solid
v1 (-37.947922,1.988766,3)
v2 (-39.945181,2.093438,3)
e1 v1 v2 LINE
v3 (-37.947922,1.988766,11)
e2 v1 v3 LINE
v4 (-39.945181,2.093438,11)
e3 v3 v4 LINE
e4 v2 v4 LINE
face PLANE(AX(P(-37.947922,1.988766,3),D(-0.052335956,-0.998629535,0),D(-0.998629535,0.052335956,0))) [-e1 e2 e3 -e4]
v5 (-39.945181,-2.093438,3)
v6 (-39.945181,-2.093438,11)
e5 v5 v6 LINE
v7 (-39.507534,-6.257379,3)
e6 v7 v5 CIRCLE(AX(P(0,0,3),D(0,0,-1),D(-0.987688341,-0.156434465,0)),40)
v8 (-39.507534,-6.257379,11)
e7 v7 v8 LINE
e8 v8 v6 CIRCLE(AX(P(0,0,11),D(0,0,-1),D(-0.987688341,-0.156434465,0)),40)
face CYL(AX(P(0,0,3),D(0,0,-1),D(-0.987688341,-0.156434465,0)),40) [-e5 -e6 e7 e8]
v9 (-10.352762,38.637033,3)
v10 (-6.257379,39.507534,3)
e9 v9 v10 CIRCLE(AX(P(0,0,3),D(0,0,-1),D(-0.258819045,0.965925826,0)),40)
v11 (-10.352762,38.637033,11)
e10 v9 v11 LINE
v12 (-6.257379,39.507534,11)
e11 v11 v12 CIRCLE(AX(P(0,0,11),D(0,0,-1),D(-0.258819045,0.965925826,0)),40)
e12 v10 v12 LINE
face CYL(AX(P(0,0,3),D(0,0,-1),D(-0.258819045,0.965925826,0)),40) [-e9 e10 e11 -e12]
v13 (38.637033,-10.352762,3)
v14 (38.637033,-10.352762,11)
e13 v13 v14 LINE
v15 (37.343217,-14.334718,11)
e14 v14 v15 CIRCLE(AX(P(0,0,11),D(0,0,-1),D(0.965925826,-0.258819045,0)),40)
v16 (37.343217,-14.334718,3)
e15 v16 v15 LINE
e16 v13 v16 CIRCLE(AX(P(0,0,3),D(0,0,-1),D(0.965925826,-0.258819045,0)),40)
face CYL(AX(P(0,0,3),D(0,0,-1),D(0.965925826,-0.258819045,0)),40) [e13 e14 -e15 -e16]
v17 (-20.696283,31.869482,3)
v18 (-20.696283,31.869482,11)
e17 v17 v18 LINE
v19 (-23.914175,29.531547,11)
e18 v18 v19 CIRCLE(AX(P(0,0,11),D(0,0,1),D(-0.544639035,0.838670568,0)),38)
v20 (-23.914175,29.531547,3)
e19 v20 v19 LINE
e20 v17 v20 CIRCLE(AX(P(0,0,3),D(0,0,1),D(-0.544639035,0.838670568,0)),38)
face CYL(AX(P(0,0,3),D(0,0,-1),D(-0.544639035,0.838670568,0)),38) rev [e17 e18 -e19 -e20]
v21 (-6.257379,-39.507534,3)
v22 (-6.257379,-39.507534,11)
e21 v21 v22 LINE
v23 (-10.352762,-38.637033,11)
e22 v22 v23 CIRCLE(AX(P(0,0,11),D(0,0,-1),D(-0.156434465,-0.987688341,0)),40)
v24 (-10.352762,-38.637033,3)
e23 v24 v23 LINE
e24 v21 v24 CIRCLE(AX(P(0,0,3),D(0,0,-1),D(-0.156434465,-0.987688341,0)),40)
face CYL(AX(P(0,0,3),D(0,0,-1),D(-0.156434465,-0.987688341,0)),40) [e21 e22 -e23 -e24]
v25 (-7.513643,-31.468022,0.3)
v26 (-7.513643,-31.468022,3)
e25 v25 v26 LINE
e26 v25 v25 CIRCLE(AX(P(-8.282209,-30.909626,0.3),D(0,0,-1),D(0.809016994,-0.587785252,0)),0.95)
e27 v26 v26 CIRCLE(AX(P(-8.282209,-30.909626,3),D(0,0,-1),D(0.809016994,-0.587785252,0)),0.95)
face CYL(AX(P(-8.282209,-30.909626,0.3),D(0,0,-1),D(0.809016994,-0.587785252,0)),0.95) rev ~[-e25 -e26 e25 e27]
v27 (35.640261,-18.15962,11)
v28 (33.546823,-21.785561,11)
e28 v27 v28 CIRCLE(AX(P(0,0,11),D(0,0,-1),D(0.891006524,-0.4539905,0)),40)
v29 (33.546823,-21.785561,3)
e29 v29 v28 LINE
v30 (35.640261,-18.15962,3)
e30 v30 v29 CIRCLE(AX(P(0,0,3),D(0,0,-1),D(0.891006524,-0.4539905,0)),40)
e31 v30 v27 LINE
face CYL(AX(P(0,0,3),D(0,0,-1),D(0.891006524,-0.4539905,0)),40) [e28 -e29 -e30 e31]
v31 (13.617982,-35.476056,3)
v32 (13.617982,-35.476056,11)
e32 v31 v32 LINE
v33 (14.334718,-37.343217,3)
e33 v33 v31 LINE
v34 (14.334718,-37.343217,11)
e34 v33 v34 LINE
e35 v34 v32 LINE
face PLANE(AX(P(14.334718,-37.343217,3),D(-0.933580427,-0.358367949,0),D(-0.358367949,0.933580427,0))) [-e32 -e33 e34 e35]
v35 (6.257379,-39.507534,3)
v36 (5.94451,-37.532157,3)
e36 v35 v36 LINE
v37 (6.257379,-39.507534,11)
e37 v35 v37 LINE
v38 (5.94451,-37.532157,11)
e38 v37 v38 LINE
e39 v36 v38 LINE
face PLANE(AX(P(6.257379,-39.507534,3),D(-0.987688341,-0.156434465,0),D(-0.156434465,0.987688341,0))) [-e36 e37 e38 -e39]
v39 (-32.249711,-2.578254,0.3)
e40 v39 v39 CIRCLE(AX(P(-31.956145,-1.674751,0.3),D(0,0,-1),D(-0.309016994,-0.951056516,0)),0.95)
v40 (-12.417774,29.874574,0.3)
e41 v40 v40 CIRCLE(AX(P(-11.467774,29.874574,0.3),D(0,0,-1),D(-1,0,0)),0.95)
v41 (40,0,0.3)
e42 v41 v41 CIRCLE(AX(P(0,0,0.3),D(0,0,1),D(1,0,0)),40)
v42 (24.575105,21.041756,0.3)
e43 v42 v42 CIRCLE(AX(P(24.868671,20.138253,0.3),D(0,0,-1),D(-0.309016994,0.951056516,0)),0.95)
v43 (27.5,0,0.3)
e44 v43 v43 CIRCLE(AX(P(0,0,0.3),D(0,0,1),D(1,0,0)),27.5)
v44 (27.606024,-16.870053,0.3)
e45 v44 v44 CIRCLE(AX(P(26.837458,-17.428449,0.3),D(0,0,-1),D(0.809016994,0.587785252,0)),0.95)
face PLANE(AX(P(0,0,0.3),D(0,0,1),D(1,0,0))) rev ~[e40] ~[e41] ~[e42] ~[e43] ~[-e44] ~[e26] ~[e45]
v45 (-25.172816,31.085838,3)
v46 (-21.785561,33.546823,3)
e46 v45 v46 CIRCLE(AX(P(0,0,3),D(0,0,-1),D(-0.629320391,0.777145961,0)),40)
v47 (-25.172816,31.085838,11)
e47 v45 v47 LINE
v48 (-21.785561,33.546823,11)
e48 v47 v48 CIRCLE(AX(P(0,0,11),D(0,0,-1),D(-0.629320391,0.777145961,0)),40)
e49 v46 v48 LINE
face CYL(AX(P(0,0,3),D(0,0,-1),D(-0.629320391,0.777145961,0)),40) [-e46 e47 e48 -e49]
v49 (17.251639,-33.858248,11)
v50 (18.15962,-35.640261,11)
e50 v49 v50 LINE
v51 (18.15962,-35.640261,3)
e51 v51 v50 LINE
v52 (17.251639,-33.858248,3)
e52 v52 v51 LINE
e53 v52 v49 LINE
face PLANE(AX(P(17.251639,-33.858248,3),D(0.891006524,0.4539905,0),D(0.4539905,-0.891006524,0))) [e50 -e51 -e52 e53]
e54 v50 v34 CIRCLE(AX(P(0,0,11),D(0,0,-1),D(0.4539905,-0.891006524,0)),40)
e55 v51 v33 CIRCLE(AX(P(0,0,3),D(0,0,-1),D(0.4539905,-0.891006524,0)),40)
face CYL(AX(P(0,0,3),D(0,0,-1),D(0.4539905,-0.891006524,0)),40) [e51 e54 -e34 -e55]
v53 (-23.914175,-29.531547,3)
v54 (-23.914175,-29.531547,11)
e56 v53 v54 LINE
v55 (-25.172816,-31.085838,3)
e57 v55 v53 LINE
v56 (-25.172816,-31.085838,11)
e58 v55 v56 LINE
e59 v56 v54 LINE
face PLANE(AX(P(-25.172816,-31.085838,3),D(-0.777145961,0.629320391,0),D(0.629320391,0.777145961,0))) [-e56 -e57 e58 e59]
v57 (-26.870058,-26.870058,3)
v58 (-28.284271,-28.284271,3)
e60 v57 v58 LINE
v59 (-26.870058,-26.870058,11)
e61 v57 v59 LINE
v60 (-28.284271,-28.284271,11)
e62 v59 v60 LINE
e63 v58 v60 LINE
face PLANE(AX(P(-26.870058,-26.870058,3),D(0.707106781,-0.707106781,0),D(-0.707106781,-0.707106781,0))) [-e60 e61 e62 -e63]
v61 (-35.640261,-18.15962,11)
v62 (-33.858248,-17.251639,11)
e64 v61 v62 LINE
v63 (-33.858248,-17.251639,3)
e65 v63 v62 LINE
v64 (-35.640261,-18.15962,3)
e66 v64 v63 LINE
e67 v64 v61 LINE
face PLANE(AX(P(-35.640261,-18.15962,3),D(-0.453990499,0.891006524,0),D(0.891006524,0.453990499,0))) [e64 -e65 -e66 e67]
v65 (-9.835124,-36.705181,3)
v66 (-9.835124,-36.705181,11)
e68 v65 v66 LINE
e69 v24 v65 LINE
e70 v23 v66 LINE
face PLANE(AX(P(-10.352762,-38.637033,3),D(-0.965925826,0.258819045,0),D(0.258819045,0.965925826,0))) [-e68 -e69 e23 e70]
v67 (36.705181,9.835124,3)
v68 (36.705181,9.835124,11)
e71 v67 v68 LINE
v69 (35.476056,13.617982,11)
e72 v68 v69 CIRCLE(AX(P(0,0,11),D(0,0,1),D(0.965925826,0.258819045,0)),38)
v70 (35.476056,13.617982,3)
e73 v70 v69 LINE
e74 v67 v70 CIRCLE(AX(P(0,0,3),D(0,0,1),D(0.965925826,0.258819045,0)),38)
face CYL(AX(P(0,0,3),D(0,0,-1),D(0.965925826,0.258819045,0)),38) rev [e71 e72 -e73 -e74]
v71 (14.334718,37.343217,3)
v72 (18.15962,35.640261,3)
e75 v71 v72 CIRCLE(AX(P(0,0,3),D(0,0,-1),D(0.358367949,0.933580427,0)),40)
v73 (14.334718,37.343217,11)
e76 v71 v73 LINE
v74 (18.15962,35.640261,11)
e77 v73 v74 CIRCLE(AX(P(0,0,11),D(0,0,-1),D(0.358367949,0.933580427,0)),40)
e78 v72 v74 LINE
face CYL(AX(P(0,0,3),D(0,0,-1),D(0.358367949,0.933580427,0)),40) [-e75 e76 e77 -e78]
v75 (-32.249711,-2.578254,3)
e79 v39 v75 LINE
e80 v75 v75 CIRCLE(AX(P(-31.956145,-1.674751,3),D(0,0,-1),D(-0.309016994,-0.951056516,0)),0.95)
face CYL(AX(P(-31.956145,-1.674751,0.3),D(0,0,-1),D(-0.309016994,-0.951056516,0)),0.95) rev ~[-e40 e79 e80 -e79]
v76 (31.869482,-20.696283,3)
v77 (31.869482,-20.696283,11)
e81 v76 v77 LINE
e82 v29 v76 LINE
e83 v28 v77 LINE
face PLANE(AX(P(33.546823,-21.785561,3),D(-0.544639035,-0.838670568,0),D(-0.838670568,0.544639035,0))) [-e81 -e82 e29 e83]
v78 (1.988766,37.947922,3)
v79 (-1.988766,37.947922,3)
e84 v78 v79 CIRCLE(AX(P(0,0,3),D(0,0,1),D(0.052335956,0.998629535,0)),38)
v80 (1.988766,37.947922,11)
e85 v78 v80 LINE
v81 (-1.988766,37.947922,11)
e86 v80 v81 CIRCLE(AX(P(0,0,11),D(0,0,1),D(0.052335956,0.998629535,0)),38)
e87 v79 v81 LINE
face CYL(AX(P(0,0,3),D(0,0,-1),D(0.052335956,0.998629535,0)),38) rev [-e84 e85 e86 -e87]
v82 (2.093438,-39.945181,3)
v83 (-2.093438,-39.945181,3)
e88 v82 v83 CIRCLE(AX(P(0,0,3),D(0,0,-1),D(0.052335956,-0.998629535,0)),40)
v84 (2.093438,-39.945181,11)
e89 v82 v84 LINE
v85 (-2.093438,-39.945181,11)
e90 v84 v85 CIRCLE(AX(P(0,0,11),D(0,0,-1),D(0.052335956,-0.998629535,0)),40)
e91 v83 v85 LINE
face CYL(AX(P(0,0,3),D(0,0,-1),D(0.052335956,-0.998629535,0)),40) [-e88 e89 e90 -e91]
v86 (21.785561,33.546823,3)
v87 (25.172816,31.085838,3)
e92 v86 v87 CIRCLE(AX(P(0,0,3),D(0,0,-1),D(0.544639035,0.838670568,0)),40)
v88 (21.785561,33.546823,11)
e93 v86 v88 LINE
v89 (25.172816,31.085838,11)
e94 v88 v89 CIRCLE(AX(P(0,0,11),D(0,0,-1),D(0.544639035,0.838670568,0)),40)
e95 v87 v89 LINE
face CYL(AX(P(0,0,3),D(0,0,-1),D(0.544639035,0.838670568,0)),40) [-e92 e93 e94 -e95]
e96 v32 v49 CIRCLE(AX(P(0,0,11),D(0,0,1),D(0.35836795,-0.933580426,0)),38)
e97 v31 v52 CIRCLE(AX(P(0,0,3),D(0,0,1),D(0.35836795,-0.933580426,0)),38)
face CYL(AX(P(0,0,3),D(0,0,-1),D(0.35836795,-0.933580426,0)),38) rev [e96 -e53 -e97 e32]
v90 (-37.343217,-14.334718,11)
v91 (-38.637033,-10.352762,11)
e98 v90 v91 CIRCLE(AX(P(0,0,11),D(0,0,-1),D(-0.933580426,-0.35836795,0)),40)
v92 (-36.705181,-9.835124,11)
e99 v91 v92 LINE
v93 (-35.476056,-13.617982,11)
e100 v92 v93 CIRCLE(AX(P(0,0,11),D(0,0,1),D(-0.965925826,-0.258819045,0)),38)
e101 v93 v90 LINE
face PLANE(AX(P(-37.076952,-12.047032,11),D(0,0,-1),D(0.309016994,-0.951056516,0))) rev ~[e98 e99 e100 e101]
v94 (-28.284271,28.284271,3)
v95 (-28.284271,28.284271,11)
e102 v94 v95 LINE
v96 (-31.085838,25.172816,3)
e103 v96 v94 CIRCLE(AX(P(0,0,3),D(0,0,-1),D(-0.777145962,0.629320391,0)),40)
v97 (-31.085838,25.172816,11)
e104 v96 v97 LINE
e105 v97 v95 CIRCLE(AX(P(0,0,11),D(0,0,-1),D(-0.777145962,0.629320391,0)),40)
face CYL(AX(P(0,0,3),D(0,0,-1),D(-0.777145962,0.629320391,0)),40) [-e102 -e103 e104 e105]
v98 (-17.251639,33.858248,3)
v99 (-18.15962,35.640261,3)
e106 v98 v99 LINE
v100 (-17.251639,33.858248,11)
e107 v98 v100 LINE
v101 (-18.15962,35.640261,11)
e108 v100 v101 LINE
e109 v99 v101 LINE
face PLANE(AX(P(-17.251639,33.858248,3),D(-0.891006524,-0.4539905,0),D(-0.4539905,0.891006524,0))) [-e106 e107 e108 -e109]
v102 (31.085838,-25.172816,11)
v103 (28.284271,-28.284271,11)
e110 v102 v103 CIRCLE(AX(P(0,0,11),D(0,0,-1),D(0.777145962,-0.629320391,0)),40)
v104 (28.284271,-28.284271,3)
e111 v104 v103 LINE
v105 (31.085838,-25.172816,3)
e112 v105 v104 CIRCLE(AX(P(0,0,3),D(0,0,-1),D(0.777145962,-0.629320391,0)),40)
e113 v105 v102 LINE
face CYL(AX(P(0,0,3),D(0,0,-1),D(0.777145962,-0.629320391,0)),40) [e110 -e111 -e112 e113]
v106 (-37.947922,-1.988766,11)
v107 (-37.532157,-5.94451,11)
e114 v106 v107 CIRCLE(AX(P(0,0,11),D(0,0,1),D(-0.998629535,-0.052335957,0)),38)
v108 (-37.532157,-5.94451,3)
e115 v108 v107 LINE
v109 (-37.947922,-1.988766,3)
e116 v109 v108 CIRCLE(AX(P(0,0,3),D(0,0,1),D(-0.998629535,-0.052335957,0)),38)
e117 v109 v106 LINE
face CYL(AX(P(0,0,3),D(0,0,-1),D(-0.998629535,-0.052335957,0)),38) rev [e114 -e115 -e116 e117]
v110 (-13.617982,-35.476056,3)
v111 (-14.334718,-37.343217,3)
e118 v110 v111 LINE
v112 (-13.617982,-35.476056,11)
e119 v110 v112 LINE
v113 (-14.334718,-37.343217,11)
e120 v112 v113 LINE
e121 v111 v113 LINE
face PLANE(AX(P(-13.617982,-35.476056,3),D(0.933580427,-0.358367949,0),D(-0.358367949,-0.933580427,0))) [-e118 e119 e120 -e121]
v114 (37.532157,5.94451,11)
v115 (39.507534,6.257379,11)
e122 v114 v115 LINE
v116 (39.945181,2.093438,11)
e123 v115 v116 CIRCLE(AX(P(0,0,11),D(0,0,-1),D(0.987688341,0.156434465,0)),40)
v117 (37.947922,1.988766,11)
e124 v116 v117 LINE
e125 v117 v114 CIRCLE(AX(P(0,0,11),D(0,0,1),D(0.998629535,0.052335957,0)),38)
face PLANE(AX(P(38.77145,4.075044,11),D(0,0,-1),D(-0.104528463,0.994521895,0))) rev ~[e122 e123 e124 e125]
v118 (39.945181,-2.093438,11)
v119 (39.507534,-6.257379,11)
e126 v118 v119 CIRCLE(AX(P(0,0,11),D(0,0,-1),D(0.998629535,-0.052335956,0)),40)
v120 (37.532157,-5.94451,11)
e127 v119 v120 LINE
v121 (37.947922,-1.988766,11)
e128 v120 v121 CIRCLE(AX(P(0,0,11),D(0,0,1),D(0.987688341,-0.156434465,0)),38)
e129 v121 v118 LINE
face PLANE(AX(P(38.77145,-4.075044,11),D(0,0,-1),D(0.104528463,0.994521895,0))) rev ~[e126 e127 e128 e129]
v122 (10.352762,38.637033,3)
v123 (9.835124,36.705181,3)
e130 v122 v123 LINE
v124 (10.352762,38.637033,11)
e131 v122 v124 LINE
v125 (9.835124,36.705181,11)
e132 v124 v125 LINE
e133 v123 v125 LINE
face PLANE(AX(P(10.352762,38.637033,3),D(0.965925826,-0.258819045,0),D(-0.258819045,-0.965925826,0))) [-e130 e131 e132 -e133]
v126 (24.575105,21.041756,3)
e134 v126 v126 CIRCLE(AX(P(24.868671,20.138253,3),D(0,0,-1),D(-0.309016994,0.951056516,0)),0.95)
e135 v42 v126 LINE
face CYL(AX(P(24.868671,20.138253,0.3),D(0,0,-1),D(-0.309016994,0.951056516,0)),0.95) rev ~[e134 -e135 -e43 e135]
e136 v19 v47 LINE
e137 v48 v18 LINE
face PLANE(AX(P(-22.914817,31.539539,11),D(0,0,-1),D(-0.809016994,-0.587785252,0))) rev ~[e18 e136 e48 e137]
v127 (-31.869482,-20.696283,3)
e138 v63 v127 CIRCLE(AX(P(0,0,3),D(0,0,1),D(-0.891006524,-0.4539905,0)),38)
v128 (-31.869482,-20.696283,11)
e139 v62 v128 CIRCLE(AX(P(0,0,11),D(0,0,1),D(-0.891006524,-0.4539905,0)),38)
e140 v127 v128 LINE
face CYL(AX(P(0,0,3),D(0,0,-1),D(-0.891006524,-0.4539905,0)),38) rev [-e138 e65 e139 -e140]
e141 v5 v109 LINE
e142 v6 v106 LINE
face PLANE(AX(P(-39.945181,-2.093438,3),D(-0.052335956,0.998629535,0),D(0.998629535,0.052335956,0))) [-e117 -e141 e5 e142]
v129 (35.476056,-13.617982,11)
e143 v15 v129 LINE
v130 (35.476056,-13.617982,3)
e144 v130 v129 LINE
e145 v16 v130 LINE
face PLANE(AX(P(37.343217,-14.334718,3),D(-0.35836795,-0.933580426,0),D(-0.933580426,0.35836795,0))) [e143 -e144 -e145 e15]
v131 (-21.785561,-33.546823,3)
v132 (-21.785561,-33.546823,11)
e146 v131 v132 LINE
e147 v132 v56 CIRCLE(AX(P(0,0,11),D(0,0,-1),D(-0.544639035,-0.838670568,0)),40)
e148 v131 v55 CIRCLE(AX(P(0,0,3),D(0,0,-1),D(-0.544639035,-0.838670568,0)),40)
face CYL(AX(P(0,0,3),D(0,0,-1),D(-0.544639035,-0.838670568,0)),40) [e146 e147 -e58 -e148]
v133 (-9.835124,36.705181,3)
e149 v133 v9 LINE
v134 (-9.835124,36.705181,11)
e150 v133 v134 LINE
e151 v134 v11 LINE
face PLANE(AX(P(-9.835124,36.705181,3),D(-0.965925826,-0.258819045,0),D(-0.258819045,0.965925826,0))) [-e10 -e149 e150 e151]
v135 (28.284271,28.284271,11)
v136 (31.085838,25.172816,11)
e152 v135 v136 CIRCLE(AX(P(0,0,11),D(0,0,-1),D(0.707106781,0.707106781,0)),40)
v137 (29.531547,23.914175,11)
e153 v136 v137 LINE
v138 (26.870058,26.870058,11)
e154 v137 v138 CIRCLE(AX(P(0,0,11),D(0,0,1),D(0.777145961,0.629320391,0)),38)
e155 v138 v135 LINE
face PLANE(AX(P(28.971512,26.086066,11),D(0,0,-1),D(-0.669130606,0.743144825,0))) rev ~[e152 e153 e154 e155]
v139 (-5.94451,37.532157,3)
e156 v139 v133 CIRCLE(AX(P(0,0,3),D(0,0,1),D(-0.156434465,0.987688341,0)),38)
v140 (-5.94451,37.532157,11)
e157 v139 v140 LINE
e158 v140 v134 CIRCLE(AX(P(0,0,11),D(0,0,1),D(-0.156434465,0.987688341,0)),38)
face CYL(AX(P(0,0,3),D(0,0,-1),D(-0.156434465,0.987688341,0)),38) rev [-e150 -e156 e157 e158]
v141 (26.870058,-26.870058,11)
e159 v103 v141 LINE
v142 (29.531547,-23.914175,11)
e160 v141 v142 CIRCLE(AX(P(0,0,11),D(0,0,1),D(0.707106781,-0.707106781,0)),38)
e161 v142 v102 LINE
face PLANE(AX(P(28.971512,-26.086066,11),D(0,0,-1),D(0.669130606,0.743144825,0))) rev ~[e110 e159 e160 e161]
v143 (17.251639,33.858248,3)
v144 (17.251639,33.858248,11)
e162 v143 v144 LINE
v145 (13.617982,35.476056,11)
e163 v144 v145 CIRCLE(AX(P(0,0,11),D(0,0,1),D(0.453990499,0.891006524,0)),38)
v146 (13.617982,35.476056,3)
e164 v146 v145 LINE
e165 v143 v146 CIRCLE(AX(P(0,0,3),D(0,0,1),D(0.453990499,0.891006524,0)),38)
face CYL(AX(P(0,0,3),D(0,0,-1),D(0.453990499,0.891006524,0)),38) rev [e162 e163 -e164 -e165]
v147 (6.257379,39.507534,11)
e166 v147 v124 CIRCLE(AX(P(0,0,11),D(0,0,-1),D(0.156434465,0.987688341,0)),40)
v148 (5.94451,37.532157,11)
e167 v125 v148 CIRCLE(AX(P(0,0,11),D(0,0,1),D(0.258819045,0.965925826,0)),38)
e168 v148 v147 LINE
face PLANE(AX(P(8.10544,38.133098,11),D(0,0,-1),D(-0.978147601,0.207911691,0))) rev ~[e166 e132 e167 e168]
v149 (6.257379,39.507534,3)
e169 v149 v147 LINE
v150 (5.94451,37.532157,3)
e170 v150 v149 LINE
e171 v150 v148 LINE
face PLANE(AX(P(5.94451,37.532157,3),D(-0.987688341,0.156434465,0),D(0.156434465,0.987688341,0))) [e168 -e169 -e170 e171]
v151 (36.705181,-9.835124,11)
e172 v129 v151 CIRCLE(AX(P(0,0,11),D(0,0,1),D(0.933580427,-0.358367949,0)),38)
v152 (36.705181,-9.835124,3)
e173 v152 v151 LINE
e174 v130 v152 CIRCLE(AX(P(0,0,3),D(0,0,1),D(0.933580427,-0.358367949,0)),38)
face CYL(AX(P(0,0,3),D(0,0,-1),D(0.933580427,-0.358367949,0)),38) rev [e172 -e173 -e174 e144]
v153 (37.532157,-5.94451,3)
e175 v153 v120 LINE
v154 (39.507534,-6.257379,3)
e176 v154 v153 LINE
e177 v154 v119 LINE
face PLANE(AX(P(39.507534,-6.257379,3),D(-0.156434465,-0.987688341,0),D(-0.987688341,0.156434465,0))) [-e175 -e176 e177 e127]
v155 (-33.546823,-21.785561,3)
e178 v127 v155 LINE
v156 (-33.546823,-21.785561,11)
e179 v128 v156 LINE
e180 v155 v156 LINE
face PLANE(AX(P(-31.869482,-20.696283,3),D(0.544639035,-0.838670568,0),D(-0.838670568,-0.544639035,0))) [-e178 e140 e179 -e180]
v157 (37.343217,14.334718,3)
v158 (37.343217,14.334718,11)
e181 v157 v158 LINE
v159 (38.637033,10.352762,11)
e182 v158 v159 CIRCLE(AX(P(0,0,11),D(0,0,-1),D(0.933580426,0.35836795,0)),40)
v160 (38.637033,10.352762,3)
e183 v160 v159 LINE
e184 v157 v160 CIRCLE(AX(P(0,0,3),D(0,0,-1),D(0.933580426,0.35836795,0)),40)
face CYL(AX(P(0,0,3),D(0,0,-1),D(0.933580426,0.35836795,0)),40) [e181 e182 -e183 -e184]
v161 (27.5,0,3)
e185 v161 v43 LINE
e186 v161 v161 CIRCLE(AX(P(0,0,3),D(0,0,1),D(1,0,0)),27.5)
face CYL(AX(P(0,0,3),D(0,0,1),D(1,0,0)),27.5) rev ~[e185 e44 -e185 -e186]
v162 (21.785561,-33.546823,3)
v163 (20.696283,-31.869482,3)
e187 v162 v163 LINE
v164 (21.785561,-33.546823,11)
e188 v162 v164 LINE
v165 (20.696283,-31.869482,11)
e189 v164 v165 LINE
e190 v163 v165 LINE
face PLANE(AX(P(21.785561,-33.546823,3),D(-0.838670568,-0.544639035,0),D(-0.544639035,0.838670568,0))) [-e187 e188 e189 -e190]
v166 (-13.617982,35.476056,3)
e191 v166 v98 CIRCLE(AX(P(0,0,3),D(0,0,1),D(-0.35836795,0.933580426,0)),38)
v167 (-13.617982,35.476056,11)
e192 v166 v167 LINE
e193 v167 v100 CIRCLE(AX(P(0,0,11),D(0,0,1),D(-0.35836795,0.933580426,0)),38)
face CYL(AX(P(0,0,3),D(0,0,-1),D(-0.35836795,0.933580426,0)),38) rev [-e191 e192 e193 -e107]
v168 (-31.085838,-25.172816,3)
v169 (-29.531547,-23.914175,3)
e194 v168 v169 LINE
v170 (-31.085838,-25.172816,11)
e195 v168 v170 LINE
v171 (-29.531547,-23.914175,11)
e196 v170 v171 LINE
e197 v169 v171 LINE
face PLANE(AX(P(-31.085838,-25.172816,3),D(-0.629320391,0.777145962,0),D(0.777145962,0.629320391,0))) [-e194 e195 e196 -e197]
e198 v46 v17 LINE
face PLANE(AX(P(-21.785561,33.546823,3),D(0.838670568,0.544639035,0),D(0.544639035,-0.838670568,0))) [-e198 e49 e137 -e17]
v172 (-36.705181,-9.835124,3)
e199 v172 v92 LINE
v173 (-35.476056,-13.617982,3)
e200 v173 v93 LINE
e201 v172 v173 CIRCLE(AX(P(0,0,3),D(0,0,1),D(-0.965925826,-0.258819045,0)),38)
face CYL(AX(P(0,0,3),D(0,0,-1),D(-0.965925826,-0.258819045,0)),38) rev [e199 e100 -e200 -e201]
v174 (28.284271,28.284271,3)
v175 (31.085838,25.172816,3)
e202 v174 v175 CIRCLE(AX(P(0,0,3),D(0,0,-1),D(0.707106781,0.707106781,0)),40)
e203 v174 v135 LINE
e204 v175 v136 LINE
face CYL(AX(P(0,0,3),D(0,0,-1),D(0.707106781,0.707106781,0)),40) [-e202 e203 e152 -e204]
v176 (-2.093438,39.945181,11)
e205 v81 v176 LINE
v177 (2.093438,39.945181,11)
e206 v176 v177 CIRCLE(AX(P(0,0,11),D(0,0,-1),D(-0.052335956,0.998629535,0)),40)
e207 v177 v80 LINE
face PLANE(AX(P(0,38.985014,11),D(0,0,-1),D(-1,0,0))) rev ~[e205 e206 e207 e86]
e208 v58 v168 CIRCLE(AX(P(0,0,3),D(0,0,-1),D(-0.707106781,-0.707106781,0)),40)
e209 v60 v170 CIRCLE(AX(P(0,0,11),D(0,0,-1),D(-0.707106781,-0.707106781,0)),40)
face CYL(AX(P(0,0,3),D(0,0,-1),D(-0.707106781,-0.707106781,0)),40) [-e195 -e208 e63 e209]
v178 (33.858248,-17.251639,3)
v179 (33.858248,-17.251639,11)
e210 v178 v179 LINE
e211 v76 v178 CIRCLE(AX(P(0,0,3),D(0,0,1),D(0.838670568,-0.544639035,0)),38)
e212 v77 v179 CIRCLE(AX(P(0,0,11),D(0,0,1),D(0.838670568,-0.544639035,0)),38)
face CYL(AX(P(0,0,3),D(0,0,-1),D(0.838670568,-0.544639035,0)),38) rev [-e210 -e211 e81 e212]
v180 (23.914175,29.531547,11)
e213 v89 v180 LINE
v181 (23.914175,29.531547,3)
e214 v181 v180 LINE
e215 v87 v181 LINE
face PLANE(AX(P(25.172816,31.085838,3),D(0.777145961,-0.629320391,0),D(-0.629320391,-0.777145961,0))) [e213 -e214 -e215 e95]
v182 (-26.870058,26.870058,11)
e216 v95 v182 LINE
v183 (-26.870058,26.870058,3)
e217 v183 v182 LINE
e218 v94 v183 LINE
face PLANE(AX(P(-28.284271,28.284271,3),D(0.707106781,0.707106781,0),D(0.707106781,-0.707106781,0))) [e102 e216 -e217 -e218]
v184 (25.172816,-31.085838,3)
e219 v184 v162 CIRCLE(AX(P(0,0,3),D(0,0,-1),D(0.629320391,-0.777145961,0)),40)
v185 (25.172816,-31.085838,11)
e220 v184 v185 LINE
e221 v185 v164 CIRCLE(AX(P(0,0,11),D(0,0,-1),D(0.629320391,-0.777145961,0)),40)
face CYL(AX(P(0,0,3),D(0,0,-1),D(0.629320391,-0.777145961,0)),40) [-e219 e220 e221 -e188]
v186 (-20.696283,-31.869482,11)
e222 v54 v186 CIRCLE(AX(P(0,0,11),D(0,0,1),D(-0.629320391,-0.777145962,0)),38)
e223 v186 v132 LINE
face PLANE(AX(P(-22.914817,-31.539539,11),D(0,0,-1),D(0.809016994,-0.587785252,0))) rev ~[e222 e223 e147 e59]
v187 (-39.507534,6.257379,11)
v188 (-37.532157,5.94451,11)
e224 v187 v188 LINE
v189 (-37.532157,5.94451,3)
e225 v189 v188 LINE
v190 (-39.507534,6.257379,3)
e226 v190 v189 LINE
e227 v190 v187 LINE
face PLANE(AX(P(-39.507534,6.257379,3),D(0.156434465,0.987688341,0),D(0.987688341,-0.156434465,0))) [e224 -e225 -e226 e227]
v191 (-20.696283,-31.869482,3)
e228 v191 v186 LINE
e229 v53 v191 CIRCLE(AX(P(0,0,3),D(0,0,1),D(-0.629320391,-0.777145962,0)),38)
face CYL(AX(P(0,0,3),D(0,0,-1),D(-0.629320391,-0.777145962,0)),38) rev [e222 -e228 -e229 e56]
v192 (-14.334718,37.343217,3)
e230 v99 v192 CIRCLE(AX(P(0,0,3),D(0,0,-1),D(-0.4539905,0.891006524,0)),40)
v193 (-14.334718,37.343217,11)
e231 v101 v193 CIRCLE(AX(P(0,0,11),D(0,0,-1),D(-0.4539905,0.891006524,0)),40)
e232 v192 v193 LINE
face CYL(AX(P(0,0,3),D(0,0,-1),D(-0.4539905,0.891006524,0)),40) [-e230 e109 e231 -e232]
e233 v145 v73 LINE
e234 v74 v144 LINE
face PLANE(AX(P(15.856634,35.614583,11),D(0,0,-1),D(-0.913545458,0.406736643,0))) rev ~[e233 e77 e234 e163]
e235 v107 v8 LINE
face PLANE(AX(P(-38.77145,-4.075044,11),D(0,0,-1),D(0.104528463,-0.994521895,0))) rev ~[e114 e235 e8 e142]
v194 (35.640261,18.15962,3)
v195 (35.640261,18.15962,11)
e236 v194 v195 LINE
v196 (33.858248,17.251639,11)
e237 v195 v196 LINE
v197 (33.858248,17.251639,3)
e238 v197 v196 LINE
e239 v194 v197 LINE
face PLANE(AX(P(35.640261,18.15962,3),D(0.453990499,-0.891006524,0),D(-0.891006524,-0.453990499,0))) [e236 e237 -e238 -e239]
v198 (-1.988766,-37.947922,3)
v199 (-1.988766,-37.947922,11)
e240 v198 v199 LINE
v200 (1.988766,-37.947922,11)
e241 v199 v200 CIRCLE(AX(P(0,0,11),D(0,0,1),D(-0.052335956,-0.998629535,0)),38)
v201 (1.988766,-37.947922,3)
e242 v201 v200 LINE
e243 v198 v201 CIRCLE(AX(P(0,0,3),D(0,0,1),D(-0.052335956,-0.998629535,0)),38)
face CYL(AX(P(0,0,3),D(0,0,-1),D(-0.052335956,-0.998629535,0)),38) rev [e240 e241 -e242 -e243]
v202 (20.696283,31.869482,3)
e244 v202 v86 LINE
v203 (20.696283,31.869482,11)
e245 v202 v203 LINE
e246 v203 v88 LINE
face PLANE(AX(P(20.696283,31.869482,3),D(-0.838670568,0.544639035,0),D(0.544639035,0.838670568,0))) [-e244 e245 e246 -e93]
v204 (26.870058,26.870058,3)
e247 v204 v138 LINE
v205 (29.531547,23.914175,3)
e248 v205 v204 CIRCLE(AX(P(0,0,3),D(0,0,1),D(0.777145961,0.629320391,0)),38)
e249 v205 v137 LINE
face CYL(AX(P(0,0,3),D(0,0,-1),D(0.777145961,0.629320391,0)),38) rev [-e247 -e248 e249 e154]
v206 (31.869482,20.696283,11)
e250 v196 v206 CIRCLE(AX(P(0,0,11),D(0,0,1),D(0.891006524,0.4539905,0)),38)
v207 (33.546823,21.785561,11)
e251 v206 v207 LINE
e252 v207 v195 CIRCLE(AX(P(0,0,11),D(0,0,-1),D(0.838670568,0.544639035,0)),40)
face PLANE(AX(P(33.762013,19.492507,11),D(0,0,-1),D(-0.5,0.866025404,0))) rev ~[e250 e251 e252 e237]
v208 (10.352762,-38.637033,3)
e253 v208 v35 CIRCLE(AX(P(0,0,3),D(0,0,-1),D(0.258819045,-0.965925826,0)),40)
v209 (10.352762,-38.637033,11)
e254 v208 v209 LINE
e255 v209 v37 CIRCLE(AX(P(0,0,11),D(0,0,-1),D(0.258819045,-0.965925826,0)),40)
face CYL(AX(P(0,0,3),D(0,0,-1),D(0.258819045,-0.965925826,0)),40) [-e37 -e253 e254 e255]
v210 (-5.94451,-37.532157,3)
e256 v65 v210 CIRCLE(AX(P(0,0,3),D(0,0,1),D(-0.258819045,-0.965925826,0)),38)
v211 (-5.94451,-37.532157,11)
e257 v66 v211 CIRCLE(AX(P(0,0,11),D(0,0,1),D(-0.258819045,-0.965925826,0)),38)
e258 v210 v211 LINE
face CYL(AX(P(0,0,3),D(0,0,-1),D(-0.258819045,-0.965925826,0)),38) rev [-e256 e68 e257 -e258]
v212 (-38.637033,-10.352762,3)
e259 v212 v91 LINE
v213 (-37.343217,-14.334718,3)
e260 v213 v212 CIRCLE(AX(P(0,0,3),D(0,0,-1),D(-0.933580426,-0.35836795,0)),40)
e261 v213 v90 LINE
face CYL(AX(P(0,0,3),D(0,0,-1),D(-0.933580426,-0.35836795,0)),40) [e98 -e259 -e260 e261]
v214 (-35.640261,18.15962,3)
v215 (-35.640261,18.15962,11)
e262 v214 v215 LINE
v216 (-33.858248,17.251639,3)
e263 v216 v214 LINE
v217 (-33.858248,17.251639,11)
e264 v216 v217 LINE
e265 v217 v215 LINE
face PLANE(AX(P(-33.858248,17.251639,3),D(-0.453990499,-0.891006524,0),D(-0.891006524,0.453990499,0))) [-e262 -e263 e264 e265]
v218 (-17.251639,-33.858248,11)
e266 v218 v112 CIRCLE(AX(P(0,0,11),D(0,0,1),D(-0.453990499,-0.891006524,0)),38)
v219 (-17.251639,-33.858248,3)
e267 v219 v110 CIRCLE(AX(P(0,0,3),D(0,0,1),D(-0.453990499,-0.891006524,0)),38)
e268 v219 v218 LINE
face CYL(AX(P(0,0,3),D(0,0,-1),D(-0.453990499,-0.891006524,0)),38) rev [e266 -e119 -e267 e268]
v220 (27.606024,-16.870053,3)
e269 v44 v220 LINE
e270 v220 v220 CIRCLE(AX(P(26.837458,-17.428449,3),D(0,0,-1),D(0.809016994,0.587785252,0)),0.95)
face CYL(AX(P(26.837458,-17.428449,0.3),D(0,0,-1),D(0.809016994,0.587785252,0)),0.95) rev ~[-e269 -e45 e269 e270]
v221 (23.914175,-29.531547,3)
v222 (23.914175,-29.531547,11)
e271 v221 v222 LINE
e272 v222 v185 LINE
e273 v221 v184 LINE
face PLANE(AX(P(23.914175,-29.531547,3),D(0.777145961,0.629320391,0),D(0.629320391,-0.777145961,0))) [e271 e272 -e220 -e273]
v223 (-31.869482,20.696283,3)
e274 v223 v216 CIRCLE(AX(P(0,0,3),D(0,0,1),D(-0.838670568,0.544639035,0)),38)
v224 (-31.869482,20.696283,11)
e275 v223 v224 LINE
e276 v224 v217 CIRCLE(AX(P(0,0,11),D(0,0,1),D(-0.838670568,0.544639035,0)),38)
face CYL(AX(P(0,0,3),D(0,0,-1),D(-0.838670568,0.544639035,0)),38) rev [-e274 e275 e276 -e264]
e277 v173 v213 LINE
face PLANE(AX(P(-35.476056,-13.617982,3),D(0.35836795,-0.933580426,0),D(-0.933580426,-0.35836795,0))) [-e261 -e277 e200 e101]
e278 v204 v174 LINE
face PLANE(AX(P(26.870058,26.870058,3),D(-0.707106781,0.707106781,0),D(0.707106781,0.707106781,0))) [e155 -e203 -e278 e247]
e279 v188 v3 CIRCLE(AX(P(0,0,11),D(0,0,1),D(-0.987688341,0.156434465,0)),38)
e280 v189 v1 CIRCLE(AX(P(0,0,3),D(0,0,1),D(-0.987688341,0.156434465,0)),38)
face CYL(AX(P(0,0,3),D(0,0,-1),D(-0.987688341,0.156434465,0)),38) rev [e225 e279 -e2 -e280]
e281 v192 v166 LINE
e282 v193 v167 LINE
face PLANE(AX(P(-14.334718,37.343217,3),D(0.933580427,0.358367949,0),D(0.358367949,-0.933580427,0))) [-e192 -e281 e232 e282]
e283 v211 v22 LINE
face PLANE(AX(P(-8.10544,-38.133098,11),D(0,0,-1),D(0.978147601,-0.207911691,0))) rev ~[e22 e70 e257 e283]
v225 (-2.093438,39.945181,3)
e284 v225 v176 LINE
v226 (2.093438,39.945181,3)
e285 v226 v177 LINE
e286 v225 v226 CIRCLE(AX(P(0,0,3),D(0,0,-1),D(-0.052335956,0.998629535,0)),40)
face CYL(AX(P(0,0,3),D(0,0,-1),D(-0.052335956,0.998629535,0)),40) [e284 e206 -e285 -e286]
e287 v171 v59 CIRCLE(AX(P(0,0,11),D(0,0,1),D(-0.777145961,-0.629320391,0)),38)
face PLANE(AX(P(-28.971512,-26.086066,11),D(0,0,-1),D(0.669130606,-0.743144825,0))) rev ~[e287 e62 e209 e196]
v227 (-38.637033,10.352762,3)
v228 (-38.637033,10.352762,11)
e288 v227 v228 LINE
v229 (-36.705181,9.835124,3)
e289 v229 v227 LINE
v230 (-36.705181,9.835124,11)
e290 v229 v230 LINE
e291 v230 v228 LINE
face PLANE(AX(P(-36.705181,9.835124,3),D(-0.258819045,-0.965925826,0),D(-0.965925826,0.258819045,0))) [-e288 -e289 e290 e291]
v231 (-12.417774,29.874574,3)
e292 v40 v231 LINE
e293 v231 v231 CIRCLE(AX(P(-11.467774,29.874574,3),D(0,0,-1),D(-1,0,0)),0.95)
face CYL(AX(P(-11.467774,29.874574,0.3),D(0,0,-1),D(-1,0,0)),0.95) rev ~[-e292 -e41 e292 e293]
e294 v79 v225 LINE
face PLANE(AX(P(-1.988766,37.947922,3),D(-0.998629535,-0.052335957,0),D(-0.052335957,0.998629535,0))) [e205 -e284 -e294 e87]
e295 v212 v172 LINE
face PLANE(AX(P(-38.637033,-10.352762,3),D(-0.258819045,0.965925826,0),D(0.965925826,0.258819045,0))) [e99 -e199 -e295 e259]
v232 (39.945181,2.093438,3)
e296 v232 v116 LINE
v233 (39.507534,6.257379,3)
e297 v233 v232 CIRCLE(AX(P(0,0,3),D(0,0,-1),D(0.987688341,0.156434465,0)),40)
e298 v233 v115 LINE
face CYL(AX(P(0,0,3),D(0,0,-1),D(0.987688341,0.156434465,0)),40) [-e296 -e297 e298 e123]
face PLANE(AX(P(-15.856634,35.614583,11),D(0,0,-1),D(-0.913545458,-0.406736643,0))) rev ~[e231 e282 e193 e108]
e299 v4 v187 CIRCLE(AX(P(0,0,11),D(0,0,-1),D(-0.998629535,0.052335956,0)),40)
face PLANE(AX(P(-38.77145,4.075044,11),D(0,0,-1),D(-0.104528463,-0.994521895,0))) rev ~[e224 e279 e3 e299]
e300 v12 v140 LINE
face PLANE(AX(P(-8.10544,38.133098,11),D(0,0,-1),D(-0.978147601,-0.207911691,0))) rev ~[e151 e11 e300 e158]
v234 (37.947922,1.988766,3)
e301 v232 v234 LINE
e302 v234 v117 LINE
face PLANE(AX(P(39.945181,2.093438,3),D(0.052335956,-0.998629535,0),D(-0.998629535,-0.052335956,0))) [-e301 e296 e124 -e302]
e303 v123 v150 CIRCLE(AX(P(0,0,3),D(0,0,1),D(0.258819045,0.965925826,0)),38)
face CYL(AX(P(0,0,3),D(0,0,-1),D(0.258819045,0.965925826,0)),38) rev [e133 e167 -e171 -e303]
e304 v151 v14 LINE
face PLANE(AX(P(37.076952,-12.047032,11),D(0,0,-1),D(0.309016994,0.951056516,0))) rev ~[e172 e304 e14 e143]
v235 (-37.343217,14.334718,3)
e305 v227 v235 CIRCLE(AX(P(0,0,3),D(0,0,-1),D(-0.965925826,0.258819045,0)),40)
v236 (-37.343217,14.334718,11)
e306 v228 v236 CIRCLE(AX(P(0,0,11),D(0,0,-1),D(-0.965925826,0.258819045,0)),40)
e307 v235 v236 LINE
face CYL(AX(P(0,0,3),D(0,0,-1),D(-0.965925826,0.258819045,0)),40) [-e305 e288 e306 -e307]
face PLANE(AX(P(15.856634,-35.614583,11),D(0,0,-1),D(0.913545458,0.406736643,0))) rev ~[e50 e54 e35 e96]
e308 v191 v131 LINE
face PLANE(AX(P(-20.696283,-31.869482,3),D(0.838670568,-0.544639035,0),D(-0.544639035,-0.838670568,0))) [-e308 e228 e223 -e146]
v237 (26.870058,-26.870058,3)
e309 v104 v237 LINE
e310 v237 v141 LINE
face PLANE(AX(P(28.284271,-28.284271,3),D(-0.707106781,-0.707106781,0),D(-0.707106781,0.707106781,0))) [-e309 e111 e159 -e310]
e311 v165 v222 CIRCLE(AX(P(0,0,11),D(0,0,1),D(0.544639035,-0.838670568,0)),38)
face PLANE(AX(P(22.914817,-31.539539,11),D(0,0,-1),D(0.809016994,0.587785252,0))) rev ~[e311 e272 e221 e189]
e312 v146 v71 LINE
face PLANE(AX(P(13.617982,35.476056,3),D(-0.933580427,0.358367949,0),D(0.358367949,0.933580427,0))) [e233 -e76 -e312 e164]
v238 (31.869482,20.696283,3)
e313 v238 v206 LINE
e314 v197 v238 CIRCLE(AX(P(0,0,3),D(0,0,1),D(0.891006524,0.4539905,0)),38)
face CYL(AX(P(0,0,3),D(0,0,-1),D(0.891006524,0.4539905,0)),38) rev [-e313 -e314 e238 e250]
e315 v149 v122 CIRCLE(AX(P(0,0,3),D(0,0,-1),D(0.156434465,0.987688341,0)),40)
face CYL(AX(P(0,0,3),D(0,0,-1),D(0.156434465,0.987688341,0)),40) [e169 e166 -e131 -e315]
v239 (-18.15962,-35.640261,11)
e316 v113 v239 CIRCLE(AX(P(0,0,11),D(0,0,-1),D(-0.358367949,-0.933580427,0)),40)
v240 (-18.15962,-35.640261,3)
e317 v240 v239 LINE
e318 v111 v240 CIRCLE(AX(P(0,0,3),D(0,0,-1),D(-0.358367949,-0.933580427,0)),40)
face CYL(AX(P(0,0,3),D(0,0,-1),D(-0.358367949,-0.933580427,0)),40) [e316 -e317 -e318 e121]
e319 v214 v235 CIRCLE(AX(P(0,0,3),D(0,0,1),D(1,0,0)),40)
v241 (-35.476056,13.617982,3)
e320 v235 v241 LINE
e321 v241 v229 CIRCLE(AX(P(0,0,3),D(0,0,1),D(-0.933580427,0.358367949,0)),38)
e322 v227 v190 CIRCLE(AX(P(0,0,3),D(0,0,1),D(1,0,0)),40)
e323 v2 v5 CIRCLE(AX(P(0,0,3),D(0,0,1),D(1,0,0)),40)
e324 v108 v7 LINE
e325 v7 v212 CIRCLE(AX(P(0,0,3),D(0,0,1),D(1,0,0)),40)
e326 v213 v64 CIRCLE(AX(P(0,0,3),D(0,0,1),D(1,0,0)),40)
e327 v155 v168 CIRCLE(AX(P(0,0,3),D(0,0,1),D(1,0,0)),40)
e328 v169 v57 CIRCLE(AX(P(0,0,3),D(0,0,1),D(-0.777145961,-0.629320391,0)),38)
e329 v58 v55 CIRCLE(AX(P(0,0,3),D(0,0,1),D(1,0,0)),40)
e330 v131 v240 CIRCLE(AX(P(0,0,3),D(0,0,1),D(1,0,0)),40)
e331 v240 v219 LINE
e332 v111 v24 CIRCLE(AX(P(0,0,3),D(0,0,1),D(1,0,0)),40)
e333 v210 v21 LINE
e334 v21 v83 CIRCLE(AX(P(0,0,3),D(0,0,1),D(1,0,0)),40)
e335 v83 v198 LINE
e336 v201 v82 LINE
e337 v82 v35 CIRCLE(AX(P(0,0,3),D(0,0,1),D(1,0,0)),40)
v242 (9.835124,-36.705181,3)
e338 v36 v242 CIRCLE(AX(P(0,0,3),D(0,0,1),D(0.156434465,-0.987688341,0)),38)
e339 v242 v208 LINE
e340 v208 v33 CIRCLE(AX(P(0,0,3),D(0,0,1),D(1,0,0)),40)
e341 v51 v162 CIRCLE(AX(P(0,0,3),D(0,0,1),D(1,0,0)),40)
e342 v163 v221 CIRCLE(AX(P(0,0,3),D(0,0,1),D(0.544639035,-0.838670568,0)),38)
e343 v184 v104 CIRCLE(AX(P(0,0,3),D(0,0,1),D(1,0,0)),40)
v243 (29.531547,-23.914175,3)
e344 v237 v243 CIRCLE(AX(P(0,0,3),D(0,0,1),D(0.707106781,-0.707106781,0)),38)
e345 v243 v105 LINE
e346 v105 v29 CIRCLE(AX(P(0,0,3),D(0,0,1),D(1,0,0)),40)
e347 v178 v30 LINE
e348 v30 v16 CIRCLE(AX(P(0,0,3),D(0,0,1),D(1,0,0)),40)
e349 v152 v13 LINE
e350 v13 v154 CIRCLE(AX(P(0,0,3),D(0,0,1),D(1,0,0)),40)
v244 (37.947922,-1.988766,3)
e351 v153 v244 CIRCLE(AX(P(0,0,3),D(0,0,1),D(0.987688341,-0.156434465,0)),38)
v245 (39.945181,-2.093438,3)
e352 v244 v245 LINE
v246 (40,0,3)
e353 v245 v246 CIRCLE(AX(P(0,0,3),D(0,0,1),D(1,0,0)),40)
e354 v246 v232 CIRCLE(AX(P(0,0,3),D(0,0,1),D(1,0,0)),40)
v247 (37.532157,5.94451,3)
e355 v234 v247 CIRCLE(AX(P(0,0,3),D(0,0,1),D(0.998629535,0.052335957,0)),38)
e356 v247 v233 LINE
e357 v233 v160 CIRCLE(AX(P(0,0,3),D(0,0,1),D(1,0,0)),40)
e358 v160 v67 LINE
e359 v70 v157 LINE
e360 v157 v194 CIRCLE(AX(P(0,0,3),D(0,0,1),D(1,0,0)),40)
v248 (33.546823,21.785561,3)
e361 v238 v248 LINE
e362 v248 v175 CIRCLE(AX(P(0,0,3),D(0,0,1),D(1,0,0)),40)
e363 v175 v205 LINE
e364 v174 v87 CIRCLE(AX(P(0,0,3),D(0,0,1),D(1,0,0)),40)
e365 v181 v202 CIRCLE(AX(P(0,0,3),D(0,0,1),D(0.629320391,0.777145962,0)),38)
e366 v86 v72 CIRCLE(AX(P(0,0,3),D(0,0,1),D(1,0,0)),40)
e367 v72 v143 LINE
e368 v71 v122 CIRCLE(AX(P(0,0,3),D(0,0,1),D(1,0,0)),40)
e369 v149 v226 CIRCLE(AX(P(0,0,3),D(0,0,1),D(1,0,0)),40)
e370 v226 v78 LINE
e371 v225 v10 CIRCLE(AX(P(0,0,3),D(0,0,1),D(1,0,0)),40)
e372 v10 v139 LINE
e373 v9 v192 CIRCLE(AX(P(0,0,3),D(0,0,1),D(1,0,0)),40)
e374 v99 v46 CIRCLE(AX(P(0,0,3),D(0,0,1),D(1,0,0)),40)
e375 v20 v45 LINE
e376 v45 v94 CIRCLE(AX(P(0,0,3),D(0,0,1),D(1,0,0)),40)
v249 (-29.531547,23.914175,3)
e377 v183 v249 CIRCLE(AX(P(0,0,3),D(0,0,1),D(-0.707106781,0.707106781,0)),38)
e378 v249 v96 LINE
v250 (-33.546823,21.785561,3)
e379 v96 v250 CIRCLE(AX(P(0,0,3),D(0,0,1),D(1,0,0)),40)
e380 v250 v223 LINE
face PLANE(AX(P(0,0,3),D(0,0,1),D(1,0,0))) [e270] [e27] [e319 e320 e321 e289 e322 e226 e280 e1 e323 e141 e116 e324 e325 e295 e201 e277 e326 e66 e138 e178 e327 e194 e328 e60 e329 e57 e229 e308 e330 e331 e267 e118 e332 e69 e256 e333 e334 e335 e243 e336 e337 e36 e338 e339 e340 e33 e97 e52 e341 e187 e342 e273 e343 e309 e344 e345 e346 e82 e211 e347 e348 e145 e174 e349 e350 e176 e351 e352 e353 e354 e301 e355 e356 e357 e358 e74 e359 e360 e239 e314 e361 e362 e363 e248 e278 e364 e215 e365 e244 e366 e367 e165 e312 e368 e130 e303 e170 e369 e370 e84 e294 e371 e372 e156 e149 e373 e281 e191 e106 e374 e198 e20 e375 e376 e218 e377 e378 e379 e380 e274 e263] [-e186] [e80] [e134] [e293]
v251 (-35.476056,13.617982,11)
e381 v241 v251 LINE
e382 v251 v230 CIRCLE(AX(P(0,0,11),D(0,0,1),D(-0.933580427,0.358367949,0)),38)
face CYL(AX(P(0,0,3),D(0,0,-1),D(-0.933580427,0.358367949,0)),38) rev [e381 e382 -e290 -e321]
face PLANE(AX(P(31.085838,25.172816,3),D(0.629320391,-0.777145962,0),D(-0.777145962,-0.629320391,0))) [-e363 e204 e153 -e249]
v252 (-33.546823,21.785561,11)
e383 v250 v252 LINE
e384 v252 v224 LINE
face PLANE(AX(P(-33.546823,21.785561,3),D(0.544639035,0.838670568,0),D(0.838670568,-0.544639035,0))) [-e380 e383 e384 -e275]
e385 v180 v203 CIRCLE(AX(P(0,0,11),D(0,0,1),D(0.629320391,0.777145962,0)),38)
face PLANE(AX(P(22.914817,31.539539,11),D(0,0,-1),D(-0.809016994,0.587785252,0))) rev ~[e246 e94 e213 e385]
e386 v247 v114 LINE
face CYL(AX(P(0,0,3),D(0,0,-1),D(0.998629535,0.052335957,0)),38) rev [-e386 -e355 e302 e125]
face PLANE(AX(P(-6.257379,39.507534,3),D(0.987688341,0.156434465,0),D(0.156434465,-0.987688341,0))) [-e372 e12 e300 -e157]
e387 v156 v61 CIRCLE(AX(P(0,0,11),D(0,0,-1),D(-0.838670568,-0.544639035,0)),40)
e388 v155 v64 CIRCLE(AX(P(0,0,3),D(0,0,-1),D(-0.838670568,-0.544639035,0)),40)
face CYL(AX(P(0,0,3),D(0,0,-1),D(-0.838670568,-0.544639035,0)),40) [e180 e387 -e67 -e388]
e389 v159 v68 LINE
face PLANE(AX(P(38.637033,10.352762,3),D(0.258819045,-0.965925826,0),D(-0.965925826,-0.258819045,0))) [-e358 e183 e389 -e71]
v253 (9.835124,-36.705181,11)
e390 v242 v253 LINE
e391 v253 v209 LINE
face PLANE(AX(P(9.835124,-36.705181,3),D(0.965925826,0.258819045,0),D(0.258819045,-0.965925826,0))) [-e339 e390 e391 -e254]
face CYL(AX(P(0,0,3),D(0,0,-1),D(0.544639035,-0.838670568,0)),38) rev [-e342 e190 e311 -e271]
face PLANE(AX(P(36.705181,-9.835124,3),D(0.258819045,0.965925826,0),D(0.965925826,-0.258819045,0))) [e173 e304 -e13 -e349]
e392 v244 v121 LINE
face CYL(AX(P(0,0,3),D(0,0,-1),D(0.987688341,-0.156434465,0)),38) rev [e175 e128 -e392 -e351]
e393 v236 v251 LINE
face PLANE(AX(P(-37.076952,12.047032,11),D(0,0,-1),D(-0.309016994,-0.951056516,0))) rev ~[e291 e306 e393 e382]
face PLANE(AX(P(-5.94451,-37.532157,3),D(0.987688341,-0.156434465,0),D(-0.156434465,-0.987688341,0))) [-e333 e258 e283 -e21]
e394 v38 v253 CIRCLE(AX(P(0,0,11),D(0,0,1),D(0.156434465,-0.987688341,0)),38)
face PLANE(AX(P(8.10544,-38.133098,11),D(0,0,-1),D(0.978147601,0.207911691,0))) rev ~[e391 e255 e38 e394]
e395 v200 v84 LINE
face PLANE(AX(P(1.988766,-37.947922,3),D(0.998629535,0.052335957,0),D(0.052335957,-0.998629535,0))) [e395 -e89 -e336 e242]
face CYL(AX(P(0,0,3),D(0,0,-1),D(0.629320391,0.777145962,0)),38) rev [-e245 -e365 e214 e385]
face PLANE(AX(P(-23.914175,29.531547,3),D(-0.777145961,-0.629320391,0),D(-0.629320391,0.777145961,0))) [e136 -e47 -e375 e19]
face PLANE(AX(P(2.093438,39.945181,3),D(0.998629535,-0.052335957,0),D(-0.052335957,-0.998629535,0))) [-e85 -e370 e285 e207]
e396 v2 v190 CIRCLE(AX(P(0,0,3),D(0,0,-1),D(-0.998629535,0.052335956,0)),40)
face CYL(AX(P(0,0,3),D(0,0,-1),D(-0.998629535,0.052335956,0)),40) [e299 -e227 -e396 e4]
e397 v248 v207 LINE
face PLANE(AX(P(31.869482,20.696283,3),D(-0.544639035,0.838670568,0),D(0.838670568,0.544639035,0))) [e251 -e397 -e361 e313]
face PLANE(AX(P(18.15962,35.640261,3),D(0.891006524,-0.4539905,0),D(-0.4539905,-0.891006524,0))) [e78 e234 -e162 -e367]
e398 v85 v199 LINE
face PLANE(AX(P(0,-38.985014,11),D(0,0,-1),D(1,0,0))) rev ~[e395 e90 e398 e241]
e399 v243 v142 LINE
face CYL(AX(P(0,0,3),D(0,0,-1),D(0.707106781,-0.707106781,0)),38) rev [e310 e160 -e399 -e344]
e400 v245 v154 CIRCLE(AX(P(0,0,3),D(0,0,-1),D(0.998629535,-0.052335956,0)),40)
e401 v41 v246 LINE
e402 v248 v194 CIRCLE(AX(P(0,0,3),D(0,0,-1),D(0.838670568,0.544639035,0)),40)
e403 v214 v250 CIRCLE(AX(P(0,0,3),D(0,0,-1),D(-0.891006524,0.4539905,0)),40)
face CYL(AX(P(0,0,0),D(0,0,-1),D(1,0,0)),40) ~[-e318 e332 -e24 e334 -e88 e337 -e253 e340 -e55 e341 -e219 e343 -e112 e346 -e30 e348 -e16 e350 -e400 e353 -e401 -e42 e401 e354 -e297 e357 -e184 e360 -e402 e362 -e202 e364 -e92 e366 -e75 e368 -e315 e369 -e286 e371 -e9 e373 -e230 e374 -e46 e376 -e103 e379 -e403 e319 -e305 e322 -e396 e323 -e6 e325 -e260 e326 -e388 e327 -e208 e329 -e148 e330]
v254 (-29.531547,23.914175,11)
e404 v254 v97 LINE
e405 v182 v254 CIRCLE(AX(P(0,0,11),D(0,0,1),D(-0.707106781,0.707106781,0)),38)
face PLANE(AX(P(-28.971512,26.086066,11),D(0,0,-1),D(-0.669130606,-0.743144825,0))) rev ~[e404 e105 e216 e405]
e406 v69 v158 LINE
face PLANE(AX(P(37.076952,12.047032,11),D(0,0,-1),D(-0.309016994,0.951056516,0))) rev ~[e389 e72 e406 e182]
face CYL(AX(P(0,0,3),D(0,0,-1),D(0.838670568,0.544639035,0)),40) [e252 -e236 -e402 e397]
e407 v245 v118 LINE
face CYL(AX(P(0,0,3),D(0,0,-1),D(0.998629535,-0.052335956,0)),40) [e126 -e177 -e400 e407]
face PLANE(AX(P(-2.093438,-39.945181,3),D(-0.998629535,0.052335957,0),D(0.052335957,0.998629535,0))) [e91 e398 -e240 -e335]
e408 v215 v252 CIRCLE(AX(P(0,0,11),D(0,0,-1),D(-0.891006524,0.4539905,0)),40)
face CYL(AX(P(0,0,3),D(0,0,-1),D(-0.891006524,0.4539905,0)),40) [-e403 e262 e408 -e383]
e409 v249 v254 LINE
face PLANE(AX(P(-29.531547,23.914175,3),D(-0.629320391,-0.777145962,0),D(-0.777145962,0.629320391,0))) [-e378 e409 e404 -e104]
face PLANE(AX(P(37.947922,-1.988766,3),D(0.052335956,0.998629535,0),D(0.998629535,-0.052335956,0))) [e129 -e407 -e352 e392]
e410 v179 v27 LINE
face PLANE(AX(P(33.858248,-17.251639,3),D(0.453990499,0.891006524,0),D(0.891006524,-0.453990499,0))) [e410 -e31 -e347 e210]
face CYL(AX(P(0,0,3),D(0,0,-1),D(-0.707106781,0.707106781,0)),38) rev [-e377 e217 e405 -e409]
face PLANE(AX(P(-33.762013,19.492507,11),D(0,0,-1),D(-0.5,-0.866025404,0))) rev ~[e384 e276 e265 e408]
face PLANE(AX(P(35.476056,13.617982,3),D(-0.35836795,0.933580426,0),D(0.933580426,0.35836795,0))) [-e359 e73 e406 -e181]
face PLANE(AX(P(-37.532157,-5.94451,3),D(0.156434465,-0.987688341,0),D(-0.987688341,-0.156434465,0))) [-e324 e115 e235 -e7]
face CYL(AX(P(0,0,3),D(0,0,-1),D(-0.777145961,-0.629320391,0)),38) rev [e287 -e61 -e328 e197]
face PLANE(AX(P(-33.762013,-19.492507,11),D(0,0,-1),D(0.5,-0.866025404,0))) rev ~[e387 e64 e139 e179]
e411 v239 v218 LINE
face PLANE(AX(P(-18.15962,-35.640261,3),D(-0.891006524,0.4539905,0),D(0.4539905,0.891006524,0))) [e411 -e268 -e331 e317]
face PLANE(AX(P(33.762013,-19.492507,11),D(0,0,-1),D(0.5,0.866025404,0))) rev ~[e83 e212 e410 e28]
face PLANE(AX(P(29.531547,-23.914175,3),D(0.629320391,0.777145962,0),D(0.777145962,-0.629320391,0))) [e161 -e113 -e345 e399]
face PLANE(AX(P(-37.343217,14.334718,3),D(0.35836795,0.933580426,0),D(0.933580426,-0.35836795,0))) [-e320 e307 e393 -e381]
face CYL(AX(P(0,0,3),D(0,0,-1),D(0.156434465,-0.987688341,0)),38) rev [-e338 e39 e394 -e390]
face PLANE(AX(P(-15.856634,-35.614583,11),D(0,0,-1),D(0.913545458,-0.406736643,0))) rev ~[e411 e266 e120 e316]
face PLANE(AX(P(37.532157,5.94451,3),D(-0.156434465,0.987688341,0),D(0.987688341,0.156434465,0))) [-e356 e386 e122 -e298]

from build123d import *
from build123d.topology import SkipClean

# Parameters (mm, degrees)
SKETCH1_R           = 40
BOSS_EXTRUDE1_DEPTH = 3
SKETCH2_R           = 27.5
CUT_EXTRUDE1_DEPTH  = 57.648036153
MOVE_FACE1_BY       = 0.3
SKETCH6_R           = 0.95
CUT_EXTRUDE8_DEPTH  = 57.632940944
CIRPATTERN3_COUNT   = 5
BOSS_EXTRUDE2_DEPTH = 8
CIRPATTERN4_COUNT   = 30


with BuildPart() as part:
    # Sketch1 → Boss-Extrude1 (new body)
    with BuildSketch(Plane.XY):
        Circle(SKETCH1_R)
    extrude(amount=BOSS_EXTRUDE1_DEPTH)

    # Sketch2 → Cut-Extrude1 (cut, through all)
    with BuildSketch(Plane.XY.offset(3)):
        Circle(SKETCH2_R)
    extrude(amount=-CUT_EXTRUDE1_DEPTH, mode=Mode.SUBTRACT)

    # Move Face1: a face moved inward by 0.3
    extrude(part.faces().sort_by_distance((0, -32, 0))[0], amount=MOVE_FACE1_BY, dir=(0, 0, 1), mode=Mode.SUBTRACT)

    # Sketch6 → Cut-Extrude8 (cut, through all)
    with BuildSketch(Plane(origin=(0, 0, 0.3), x_dir=(-1, 0, 0), z_dir=(0, 0, -1))):
        with Locations((11.467774385, 29.874573648)):
            Circle(SKETCH6_R)
    cut_extrude8 = extrude(amount=-CUT_EXTRUDE8_DEPTH, mode=Mode.SUBTRACT)

    # CirPattern3: Cut-Extrude8 ×5 about axis
    cirpattern3_axis = Axis((0, 0, -88.99), (0, 0, 1))
    for i in range(1, CIRPATTERN3_COUNT):
        add(cut_extrude8.rotate(cirpattern3_axis, i * 360 / CIRPATTERN3_COUNT), mode=Mode.SUBTRACT)

    # Sketch7 → Boss-Extrude2 (add)
    with SkipClean():  # the faces are left unmerged after this step: merging them gives an invalid solid
        with BuildSketch(Plane.XY.offset(3)):
            with BuildLine():
                Line((-1.988766337, 37.947922321), (-2.09343825, 39.94518139))
                ThreePointArc((-2.09343825, 39.94518139), (0, 40), (2.09343825, 39.94518139))
                Line((2.09343825, 39.94518139), (1.988766337, 37.947922321))
                ThreePointArc((1.988766337, 37.947922321), (0, 38), (-1.988766337, 37.947922321))
            make_face()
        boss_extrude2 = extrude(amount=BOSS_EXTRUDE2_DEPTH)

    # CirPattern4: Boss-Extrude2 ×30 about axis
    with SkipClean():  # the faces are left unmerged after this step: merging them gives an invalid solid
        cirpattern4_axis = Axis((0, 0, -88.99), (0, 0, 1))
        for i in range(1, CIRPATTERN4_COUNT):
            add(boss_extrude2.rotate(cirpattern4_axis, i * 360 / CIRPATTERN4_COUNT))


solid = part.part
